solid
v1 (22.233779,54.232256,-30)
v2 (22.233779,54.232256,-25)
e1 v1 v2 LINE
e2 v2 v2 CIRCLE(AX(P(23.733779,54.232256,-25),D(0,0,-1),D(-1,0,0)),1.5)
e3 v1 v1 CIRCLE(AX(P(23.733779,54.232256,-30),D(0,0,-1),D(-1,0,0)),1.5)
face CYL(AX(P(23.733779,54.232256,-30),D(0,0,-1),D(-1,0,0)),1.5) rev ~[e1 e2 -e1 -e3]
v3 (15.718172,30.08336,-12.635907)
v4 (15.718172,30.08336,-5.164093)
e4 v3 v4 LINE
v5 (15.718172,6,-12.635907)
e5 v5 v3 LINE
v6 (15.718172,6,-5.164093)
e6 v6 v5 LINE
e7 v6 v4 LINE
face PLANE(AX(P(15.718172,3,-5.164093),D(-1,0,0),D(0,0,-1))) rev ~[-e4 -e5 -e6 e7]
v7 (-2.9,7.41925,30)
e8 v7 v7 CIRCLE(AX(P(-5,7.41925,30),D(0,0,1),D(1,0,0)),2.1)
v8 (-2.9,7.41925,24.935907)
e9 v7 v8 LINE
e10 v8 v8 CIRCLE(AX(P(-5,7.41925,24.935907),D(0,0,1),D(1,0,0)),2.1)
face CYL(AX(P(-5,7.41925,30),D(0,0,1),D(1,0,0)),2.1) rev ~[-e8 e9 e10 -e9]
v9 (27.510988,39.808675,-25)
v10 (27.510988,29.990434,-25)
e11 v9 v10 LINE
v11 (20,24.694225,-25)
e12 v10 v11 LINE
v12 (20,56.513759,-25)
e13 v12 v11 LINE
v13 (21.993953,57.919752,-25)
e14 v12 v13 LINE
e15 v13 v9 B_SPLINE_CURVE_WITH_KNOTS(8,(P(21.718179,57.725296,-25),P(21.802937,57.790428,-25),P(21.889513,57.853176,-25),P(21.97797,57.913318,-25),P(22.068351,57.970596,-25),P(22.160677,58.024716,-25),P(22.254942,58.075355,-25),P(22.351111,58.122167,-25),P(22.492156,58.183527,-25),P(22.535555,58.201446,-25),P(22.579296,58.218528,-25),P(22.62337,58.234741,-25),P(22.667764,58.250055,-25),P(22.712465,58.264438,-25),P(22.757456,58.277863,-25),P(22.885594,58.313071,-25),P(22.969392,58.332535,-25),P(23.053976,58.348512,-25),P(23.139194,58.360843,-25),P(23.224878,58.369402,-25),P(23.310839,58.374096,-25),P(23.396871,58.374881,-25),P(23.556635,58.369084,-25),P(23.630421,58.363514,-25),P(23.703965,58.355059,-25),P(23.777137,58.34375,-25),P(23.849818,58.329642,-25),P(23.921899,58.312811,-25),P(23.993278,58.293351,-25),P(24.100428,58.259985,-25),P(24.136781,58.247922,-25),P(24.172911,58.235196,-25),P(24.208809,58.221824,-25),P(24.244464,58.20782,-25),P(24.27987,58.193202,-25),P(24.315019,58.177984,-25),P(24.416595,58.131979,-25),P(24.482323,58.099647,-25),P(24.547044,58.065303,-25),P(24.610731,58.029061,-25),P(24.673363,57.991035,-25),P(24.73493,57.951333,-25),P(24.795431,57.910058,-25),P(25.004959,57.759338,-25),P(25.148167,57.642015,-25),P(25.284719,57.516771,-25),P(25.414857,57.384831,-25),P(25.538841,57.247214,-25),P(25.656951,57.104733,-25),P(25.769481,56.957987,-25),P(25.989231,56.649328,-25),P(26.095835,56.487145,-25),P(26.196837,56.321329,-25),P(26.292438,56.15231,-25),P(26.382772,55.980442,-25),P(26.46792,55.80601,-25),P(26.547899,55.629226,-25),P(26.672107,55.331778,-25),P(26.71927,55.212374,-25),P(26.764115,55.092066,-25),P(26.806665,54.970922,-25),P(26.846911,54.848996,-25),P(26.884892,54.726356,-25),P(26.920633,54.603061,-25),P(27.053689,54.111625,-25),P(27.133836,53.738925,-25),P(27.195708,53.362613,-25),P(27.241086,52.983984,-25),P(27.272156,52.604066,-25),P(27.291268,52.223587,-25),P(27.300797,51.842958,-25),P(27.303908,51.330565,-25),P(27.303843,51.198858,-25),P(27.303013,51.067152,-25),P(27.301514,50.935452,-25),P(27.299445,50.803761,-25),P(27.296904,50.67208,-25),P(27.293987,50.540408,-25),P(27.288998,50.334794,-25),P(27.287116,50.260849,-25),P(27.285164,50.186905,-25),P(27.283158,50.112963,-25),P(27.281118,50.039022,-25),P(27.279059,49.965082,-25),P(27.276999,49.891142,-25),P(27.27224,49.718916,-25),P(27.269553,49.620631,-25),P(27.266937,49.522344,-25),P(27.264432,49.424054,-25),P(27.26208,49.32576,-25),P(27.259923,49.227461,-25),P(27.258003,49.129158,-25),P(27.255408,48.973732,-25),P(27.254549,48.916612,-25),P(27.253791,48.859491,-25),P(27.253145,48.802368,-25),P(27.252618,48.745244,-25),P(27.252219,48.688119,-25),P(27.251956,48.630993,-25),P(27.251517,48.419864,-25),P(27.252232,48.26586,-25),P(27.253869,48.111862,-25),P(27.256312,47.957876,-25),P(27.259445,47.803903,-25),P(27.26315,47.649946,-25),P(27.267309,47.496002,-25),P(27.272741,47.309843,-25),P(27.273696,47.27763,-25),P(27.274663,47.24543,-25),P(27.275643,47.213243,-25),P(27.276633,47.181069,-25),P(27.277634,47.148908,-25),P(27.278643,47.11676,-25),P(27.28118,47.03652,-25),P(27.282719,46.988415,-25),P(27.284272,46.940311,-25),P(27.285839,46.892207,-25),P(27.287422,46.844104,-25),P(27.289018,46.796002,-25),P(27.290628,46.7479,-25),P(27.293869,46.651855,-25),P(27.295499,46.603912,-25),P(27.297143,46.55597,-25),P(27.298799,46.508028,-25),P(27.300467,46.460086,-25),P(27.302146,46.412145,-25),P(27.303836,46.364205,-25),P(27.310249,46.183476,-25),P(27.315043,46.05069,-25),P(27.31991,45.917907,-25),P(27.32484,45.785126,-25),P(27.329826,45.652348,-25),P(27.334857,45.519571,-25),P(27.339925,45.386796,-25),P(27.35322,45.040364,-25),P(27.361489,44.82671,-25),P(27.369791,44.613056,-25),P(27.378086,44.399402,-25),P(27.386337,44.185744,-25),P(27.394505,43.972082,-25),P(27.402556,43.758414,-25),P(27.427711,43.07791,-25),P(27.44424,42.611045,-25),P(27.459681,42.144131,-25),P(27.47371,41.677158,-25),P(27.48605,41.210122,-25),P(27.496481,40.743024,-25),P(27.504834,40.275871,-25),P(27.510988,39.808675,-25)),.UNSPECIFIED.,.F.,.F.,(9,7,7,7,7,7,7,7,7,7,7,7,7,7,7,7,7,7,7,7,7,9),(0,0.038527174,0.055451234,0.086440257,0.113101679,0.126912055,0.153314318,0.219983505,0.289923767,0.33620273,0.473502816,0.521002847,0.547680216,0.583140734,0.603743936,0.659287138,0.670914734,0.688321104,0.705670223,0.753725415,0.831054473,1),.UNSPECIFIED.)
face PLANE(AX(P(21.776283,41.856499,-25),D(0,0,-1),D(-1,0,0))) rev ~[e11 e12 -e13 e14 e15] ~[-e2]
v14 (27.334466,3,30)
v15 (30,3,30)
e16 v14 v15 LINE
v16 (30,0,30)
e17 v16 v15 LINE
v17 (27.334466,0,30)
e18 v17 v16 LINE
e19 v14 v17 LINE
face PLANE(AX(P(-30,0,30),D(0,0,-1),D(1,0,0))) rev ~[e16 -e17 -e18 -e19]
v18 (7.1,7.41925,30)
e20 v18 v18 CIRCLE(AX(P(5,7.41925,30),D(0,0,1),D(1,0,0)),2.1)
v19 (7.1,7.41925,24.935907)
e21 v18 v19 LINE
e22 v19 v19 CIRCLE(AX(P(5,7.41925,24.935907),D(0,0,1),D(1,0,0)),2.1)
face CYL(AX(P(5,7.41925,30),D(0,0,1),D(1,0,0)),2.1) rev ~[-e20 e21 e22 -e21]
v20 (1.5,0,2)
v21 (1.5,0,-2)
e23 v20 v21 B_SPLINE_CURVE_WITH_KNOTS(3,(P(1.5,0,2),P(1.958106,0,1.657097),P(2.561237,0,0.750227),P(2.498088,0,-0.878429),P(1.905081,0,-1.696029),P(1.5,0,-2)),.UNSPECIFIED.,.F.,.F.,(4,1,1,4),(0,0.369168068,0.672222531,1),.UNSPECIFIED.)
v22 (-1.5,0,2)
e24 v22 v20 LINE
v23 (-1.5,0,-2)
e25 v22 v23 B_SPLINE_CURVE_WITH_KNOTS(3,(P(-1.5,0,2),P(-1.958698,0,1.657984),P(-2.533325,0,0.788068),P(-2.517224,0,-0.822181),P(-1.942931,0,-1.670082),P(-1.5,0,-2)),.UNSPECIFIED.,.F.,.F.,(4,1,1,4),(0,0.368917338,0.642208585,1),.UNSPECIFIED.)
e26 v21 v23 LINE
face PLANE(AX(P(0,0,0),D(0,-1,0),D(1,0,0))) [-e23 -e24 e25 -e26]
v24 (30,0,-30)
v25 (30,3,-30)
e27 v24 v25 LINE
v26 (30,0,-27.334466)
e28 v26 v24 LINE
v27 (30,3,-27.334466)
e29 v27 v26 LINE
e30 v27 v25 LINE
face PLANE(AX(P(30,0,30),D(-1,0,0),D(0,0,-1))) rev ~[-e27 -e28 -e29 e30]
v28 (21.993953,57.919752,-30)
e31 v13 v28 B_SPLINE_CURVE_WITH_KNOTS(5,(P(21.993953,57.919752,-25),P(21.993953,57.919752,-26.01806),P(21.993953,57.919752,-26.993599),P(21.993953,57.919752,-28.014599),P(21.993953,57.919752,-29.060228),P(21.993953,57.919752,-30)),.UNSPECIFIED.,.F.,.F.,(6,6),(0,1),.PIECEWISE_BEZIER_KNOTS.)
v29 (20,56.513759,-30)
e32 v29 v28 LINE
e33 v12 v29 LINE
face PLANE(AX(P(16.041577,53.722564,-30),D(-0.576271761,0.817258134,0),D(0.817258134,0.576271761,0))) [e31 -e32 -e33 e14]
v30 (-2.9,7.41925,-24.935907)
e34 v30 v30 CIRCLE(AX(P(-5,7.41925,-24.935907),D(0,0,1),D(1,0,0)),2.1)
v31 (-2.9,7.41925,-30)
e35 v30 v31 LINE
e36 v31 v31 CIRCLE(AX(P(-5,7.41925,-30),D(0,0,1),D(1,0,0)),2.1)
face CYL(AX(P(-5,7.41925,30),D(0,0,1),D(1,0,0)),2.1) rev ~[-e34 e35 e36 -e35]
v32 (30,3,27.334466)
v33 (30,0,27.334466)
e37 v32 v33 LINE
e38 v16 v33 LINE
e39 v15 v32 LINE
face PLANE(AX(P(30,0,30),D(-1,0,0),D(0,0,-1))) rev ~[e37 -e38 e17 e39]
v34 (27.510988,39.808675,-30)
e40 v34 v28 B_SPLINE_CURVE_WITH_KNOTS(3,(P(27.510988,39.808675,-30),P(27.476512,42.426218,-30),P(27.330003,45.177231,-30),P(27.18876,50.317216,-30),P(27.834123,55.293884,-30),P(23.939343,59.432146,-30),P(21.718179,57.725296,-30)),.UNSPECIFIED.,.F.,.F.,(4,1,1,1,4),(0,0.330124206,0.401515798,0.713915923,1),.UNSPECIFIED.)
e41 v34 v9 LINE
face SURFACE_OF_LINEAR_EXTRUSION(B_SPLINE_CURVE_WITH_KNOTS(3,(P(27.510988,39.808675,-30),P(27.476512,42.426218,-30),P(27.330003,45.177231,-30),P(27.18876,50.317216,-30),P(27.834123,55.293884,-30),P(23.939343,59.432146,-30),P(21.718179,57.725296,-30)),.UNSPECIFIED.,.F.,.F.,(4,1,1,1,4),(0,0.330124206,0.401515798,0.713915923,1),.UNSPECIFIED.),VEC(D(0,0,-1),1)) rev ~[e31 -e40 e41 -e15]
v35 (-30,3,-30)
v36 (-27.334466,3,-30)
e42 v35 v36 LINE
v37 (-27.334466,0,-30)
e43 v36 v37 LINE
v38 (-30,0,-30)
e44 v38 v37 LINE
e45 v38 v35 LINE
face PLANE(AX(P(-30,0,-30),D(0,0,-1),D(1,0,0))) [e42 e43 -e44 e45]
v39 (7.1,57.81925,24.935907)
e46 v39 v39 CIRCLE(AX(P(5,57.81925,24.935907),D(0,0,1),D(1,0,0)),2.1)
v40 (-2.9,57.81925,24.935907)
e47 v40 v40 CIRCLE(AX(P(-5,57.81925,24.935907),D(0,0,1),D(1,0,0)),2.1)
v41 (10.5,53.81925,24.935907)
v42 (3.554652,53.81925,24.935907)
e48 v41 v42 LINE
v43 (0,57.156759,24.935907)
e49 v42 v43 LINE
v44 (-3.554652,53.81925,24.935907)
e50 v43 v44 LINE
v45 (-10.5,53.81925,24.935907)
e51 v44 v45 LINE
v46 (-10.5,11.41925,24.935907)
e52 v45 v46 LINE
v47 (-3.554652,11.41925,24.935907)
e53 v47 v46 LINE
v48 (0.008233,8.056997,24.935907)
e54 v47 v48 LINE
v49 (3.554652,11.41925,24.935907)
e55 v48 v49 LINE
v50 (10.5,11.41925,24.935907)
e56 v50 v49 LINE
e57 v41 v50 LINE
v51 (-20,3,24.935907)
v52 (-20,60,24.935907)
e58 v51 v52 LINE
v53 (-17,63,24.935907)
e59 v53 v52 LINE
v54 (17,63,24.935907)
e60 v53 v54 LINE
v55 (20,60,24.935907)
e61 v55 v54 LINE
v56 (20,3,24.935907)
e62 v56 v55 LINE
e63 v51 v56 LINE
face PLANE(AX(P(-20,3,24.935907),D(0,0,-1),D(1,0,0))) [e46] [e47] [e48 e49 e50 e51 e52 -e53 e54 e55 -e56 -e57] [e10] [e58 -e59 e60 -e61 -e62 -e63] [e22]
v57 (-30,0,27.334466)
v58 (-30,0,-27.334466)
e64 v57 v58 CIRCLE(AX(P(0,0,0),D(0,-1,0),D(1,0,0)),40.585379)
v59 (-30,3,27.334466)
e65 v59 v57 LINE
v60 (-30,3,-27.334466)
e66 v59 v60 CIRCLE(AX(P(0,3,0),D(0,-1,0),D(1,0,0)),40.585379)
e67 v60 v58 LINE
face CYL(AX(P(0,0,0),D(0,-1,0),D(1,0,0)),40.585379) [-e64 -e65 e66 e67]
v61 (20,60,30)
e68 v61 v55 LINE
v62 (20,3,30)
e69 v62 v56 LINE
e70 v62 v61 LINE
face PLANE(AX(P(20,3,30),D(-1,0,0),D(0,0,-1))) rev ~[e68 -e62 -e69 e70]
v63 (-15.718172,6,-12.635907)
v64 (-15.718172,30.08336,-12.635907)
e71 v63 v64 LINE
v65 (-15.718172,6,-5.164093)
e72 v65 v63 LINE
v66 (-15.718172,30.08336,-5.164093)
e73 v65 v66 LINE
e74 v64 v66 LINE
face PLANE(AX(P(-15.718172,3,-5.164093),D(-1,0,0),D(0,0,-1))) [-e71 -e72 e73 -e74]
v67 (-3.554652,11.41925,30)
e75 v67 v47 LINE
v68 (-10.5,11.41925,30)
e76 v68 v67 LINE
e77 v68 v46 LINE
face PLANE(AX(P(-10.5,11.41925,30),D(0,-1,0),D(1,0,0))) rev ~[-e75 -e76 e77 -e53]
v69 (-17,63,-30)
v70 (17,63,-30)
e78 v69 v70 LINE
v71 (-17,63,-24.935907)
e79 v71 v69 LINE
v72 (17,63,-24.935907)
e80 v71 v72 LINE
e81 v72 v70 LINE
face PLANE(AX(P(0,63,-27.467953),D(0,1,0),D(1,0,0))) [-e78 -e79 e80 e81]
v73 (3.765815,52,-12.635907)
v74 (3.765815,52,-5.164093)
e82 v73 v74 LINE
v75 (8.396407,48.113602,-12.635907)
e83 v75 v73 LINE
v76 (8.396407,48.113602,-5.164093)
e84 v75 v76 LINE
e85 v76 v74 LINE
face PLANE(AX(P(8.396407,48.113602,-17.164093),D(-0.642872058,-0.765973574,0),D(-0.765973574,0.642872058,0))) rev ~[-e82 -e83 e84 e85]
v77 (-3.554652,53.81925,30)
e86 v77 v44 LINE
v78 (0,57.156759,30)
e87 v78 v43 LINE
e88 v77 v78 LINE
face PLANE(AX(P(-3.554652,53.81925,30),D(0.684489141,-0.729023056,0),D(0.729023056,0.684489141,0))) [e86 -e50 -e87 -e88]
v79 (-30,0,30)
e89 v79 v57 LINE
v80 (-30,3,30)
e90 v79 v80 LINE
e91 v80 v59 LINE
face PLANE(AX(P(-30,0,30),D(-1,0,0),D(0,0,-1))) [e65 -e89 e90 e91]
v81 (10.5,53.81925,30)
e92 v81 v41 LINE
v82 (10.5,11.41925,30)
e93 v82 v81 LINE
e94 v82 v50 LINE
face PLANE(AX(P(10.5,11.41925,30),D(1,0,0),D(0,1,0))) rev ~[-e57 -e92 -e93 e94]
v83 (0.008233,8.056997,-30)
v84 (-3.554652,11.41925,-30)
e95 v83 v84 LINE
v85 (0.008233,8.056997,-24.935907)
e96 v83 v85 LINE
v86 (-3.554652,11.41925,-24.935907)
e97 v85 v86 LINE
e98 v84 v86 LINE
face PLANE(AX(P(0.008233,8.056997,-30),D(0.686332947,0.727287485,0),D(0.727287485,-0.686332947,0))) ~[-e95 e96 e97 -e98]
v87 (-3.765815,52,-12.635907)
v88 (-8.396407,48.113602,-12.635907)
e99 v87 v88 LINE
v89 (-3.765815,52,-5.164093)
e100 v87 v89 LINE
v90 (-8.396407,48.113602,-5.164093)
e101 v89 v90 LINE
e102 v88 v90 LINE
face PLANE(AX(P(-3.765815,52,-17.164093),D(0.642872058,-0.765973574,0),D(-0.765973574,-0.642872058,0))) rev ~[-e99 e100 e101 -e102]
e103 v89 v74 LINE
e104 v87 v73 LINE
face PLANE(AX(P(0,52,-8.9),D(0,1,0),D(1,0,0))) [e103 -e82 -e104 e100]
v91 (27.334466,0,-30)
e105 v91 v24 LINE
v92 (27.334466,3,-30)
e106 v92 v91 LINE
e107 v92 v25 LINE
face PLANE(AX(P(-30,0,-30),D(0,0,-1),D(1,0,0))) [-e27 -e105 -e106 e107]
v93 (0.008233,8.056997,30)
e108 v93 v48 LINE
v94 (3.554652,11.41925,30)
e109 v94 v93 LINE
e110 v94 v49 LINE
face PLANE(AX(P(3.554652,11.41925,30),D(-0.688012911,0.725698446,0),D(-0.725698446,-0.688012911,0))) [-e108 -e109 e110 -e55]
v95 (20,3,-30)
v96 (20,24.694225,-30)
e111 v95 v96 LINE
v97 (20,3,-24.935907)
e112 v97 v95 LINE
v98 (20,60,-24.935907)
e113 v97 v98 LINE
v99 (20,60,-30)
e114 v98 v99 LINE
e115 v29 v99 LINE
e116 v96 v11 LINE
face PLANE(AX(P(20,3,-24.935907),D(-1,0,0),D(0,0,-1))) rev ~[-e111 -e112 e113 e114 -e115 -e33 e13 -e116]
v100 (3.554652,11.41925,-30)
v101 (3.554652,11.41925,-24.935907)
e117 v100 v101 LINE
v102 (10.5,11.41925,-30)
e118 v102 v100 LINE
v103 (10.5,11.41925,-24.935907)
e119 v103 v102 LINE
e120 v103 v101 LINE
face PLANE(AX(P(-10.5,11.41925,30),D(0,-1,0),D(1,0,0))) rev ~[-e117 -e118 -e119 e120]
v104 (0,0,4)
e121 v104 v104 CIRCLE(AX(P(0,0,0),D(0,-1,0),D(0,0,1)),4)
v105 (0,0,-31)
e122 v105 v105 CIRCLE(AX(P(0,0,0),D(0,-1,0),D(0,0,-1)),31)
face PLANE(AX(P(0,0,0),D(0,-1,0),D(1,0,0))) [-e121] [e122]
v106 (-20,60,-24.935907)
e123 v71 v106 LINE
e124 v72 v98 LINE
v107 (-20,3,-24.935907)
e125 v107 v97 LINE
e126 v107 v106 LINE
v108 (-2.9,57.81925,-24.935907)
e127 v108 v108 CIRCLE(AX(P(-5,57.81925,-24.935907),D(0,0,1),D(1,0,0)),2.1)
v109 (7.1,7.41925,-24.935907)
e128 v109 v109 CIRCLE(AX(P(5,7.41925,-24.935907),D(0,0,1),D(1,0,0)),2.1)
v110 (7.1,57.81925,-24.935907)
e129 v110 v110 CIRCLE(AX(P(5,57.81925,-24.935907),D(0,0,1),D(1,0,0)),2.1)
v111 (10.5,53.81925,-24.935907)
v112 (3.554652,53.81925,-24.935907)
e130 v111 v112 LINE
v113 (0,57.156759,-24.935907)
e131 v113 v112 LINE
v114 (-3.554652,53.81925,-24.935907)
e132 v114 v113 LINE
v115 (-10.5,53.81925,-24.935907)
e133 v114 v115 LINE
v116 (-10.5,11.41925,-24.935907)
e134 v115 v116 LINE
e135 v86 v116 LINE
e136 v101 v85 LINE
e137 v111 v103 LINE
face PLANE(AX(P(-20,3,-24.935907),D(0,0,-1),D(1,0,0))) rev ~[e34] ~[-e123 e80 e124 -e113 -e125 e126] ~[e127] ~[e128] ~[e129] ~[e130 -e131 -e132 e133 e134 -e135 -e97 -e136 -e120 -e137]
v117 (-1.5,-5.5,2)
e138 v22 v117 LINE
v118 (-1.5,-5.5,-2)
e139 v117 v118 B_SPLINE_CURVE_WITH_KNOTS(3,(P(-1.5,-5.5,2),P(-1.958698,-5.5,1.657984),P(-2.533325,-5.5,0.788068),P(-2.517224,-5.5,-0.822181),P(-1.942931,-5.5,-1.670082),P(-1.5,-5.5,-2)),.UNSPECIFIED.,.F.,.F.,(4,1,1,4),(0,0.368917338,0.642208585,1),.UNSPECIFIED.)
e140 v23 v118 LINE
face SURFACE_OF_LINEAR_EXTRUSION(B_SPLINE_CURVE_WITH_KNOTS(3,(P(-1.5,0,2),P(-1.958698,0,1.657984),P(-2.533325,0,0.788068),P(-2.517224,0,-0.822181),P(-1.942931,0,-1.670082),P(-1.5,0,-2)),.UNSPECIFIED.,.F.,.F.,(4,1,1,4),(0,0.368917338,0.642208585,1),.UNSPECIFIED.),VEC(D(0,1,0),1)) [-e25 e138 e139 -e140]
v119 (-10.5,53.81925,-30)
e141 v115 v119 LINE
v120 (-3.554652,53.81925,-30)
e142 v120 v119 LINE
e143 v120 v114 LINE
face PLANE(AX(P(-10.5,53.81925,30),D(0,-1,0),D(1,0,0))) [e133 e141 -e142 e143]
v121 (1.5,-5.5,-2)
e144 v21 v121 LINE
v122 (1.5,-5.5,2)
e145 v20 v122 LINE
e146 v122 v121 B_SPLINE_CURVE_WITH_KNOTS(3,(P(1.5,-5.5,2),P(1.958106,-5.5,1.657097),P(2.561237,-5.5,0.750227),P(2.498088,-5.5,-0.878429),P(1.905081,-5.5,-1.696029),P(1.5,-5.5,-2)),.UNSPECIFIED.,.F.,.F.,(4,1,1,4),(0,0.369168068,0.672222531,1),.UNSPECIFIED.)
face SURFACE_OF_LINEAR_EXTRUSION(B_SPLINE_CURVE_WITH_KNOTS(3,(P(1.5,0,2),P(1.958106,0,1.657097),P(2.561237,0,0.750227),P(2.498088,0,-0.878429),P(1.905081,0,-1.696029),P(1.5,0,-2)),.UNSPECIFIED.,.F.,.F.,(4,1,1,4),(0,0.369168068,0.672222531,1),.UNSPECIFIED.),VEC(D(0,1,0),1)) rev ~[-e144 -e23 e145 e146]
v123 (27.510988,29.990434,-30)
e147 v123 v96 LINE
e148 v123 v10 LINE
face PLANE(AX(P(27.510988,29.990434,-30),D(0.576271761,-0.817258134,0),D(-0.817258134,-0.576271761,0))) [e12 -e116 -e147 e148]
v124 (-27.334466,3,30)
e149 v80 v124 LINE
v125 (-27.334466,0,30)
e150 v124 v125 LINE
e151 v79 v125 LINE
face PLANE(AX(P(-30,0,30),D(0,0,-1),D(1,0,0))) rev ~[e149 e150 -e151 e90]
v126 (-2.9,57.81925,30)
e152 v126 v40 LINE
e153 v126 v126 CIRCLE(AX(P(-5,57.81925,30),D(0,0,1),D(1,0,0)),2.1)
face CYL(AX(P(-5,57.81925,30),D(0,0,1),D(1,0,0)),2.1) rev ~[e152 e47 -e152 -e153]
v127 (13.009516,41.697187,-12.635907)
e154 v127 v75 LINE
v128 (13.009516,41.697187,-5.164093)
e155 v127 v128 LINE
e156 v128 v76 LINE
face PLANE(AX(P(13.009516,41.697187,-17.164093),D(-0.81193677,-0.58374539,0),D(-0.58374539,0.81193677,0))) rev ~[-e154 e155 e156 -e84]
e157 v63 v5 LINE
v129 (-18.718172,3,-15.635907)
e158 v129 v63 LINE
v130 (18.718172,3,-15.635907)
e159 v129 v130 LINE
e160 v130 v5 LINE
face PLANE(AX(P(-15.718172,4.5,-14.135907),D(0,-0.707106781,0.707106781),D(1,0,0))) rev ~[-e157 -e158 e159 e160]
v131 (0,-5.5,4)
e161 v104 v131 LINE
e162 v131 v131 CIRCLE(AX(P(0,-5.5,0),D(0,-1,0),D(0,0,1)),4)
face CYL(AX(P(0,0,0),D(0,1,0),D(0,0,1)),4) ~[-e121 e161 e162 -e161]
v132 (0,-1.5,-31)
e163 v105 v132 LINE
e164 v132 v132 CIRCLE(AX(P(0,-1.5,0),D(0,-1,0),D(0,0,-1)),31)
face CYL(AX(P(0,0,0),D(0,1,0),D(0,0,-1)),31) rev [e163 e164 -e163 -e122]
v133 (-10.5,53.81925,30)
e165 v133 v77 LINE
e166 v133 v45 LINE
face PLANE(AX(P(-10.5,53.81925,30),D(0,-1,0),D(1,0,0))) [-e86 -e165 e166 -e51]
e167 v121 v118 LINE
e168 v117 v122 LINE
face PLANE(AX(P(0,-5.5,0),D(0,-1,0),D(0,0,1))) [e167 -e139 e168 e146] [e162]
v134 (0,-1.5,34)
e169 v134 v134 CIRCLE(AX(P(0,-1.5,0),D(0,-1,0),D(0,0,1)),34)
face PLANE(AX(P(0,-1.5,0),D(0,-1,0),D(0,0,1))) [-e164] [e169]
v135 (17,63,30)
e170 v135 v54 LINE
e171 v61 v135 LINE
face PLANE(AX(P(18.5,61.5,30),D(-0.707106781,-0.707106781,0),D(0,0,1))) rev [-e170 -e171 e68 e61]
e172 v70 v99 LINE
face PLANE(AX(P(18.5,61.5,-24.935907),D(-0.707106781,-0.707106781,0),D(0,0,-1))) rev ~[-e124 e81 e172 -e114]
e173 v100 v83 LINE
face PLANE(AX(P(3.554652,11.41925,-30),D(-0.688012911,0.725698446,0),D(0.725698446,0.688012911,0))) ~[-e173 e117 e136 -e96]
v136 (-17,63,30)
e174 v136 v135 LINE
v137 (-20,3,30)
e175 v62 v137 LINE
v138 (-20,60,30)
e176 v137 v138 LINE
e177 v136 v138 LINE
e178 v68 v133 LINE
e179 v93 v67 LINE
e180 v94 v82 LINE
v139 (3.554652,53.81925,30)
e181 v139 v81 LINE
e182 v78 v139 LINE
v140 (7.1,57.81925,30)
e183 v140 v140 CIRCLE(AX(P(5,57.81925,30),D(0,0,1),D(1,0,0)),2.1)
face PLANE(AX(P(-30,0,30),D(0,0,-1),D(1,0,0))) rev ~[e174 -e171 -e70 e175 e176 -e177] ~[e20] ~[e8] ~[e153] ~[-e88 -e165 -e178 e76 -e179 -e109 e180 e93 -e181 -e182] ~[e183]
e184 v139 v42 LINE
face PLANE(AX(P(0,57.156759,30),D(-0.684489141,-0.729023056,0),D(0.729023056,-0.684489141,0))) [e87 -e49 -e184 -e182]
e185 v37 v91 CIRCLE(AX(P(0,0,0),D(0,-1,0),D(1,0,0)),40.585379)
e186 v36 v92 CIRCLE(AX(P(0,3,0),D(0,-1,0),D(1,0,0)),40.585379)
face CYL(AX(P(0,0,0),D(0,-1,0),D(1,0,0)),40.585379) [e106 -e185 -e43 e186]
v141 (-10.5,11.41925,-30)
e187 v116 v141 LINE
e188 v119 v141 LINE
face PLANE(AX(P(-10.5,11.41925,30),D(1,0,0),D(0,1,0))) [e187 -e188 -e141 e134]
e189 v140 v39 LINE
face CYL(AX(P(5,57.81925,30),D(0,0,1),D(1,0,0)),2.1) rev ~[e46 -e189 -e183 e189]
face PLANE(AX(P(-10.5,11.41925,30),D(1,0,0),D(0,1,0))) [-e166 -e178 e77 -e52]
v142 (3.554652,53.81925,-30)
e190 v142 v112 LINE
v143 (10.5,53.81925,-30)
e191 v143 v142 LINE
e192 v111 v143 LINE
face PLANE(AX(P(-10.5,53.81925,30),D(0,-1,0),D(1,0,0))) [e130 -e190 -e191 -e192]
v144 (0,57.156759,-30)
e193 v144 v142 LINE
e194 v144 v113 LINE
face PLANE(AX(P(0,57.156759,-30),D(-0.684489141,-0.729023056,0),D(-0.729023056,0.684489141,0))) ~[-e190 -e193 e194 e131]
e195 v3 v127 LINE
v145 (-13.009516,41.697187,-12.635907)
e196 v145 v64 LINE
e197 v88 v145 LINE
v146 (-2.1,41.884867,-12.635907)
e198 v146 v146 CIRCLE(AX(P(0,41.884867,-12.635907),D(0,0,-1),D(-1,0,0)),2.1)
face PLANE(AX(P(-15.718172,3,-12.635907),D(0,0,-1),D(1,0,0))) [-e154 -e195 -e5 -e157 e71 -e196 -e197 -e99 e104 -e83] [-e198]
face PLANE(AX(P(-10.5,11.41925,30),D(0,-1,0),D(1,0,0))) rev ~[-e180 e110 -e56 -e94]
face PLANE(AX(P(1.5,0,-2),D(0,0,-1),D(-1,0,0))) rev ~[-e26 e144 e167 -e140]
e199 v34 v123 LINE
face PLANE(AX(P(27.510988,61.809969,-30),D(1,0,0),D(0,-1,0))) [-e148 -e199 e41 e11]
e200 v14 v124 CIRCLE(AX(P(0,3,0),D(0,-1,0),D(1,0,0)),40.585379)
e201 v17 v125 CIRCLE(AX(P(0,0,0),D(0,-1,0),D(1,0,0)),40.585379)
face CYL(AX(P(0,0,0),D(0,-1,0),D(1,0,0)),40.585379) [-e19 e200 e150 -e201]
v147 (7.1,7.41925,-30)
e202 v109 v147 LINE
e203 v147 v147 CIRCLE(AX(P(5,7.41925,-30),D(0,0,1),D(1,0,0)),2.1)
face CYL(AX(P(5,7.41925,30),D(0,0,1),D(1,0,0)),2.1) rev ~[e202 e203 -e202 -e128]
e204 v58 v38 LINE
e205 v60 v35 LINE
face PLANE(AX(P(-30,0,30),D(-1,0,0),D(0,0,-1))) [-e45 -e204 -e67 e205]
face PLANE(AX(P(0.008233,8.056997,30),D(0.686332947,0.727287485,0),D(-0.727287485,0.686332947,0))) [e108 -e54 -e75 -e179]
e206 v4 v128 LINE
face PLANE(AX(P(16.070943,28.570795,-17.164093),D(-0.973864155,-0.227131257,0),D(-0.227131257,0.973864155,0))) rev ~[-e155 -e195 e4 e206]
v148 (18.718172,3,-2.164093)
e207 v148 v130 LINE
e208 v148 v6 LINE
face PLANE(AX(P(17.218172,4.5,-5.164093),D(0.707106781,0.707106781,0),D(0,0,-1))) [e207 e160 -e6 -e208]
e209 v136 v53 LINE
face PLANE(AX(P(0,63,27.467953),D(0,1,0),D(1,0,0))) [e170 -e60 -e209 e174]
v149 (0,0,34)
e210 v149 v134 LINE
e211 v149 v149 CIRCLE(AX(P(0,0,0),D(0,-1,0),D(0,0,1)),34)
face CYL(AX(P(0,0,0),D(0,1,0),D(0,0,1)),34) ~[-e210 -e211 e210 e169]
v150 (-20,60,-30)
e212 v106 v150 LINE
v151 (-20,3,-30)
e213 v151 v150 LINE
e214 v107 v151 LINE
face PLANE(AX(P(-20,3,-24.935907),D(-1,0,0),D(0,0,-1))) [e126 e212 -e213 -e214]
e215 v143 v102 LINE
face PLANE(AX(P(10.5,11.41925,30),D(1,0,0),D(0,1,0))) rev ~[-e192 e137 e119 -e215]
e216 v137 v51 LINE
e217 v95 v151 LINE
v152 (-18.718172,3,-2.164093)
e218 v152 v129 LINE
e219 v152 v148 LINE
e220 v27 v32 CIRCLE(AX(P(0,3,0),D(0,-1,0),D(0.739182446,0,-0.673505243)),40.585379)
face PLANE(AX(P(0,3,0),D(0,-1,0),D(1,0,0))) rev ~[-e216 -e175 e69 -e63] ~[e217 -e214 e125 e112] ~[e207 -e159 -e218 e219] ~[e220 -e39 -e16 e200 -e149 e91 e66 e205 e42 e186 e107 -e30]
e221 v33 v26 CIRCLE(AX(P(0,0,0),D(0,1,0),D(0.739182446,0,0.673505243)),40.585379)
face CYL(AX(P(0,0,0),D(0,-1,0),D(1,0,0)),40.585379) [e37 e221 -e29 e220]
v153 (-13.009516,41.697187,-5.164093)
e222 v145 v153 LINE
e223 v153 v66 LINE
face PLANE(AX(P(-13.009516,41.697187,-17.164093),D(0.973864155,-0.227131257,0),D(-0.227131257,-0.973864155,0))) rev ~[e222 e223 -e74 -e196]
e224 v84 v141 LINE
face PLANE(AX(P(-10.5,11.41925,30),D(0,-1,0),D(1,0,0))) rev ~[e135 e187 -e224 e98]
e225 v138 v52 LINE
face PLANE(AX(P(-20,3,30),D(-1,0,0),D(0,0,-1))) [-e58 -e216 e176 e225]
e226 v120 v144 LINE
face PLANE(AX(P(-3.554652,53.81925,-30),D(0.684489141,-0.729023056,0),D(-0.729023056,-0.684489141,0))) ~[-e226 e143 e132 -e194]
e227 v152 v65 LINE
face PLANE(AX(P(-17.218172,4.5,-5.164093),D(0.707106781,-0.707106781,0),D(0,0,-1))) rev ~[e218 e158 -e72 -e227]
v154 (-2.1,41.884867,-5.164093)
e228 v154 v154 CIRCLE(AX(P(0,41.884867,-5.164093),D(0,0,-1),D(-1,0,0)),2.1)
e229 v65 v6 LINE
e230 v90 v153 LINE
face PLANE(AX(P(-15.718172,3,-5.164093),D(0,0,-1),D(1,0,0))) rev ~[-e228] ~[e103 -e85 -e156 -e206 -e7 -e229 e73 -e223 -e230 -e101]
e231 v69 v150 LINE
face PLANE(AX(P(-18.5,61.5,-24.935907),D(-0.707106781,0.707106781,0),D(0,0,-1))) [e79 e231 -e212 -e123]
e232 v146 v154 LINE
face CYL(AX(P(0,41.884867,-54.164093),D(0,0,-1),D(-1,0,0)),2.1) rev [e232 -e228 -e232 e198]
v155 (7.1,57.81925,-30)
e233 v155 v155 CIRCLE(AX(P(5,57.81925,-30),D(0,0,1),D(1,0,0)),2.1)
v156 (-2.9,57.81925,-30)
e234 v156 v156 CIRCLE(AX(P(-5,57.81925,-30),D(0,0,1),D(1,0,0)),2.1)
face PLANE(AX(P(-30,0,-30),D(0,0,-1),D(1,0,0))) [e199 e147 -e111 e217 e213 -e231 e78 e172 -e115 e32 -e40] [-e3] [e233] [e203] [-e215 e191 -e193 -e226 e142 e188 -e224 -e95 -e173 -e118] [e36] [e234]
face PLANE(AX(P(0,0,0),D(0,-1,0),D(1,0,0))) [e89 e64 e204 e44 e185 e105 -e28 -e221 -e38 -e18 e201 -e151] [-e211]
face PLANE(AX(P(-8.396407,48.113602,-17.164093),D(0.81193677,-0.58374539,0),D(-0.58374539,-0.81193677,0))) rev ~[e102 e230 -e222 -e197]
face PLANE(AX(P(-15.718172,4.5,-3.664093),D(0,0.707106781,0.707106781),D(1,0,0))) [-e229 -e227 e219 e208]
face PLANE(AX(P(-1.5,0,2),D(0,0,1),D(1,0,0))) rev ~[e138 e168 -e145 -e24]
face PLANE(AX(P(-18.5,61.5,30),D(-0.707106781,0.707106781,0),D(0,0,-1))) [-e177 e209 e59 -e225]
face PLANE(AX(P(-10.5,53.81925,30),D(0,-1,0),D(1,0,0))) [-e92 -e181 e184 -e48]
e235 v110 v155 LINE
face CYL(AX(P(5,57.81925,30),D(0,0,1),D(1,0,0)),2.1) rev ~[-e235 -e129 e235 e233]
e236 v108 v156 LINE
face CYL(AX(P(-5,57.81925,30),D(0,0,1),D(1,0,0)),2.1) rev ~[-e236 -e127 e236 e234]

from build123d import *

# Parameters (mm, degrees)
ESQUISSE1_W                  = 60
ESQUISSE1_H                  = 60
BOSS_EXTRU_1_DEPTH           = 3
ESQUISSE2_W                  = 40
ESQUISSE2_H                  = 5.064093089
BOSS_EXTRU_2_DEPTH           = 60
ESQUISSE3_R                  = 2.1
ESQUISSE3_W                  = 21
ESQUISSE3_H                  = 42.4
ENL_V_MAT_EXTRU_1_DEPTH      = 61
ESQUISSE4_W                  = 31.43634342
ESQUISSE4_H                  = 7.471813822
BOSS_EXTRU_3_DEPTH           = 49
ENL_V_MAT_EXTRU_2_DEPTH      = 49
ENL_V_MAT_EXTRU_2_DEPTH_BACK = 49
ESQUISSE5_R                  = 2.1
ENL_V_MAT_EXTRU_3_DEPTH      = 5
ENL_V_MAT_EXTRU_3_DEPTH_BACK = 12
ENL_V_MAT_EXTRU_7_DEPTH      = 5.686588472
BOSS_EXTRU_4_DEPTH           = 5
ESQUISSE13_R                 = 1.5
ENL_V_MAT_EXTRU_8_DEPTH      = 5
ENL_V_MAT_EXTRU_9_DEPTH      = 10
CHANFREIN1_SIZE              = 3
CHANFREIN2_SIZE              = 3
ESQUISSE15_R                 = 40.585379392
BOSS_EXTRU_5_DEPTH           = 3
ESQUISSE16_R                 = 4
BOSS_EXTRU_6_DEPTH           = 5.5
ESQUISSE17_R                 = 34
ESQUISSE17_R_2               = 31
BOSS_EXTRU_7_DEPTH           = 1.5


with BuildPart() as part:
    # Esquisse1 → Boss.-Extru.1 (new body)
    with BuildSketch(Plane(origin=(0, 0, 0), x_dir=(1, 0, 0), z_dir=(0, 1, 0))):
        Rectangle(ESQUISSE1_W, ESQUISSE1_H)
    extrude(amount=BOSS_EXTRU_1_DEPTH)

    # Esquisse2 → Boss.-Extru.2 (add)
    with BuildSketch(Plane(origin=(0, 3, 0), x_dir=(1, 0, 0), z_dir=(0, 1, 0))):
        with Locations((0, -27.467953456)):
            Rectangle(ESQUISSE2_W, ESQUISSE2_H)
        with Locations((0, 27.467953456)):
            Rectangle(ESQUISSE2_W, ESQUISSE2_H)
    extrude(amount=BOSS_EXTRU_2_DEPTH)

    # Esquisse3 → Enlèv. mat.-Extru.1 (cut)
    with BuildSketch(Plane.XY.offset(30)):
        with Locations((-5, 57.819250322)):
            Circle(ESQUISSE3_R)
        with Locations((5, 57.819250322)):
            Circle(ESQUISSE3_R)
        with Locations((-5, 7.419250322)):
            Circle(ESQUISSE3_R)
        with Locations((5, 7.419250322)):
            Circle(ESQUISSE3_R)
        with Locations((0, 32.619250322)):
            Rectangle(ESQUISSE3_W, ESQUISSE3_H)
    extrude(amount=-ENL_V_MAT_EXTRU_1_DEPTH, mode=Mode.SUBTRACT)

    # Esquisse4 → Boss.-Extru.3 (add)
    with BuildSketch(Plane(origin=(0, 3, 0), x_dir=(1, 0, 0), z_dir=(0, 1, 0))):
        with Locations((0, 8.9)):
            Rectangle(ESQUISSE4_W, ESQUISSE4_H)
    extrude(amount=BOSS_EXTRU_3_DEPTH)

    # Esquisse5 → Enlèv. mat.-Extru.2 (cut, two sides: drawn at the far end of the back side and taken through both)
    with BuildSketch(Plane.XY.offset(-5.164093089).offset(-ENL_V_MAT_EXTRU_2_DEPTH_BACK)):
        with Locations(Location((0, 41.884866589, 0), (0, 0, 180))):
            Circle(ESQUISSE5_R)
    extrude(amount=ENL_V_MAT_EXTRU_2_DEPTH + ENL_V_MAT_EXTRU_2_DEPTH_BACK, mode=Mode.SUBTRACT)

    # Esquisse6 → Enlèv. mat.-Extru.3 (cut, two sides: drawn at the far end of the back side and taken through both)
    with BuildSketch(Plane.XY.offset(-5.164093089).offset(-ENL_V_MAT_EXTRU_3_DEPTH_BACK)):
        Polygon((3.765814794, 52), (-3.765814794, 52), (-8.396406616, 48.113602092), (-13.009515703, 41.697186725), (-16.070942643, 28.570794505), (-19.383993714, 28.570794505), (-19.383993714, 55.569676943), (19.383993714, 55.569676943), (19.383993714, 28.570794505), (16.070942643, 28.570794505), (13.009515703, 41.697186725), (8.396406616, 48.113602092), align=None)
    extrude(amount=ENL_V_MAT_EXTRU_3_DEPTH + ENL_V_MAT_EXTRU_3_DEPTH_BACK, mode=Mode.SUBTRACT)

    # Esquisse11 → Enlèv. mat.-Extru.7 (cut)
    with BuildSketch(Plane.XY.offset(30)):
        Polygon((-3.554651837, 53.819250322), (0, 57.156758738), (3.554651837, 53.819250322), align=None)
        Polygon((3.554651837, 11.419250322), (0.008232601, 8.05699671), (-3.554651837, 11.419250322), align=None)
    enl_v_mat_extru_7 = extrude(amount=-ENL_V_MAT_EXTRU_7_DEPTH, mode=Mode.SUBTRACT)

    # Symétrie1: Enlèv. mat.-Extru.7 across plane
    add(enl_v_mat_extru_7.mirror(Plane.XY), mode=Mode.SUBTRACT)

    # Esquisse12 → Boss.-Extru.4 (add)
    with BuildSketch(Plane(origin=(0, 0, -30), x_dir=(-1, 0, 0), z_dir=(0, 0, -1))):
        Polygon((-16.041577075, 53.722563772), (-27.510987985, 61.809968901), (-27.510987985, 29.990434482), (-16.041577075, 21.903029354), align=None)
    extrude(amount=-BOSS_EXTRU_4_DEPTH)

    # Esquisse13 → Enlèv. mat.-Extru.8 (cut)
    with BuildSketch(Plane(origin=(0, 0, -30), x_dir=(-1, 0, 0), z_dir=(0, 0, -1))):
        with Locations((-23.733778696, 54.232255727)):
            Circle(ESQUISSE13_R)
    extrude(amount=-ENL_V_MAT_EXTRU_8_DEPTH, mode=Mode.SUBTRACT)

    # Esquisse14 → Enlèv. mat.-Extru.9 (cut)
    with BuildSketch(Plane(origin=(0, 0, -30), x_dir=(-1, 0, 0), z_dir=(0, 0, -1))):
        with BuildLine():
            Line((-21.71817898, 57.725295885), (-22.313097289, 61.571545457))
            Line((-22.313097289, 61.571545457), (-29.123823422, 63.566297114))
            Line((-29.123823422, 63.566297114), (-31.434035617, 54.282245365))
            Line((-31.434035617, 54.282245365), (-31.802093045, 39.80867485))
            Line((-31.802093045, 39.80867485), (-27.510987985, 39.80867485))
            add(Edge.make_bspline(
                [(-27.510987985, 39.80867485), (-27.476511879, 42.426218442), (-27.330002572, 45.177230576), (-27.18875986, 50.317216066), (-27.834123365, 55.293883989), (-23.939343069, 59.432145797), (-21.71817898, 57.725295885)],
                knots=[0, 0, 0, 0, 0.330124206, 0.401515798, 0.713915923, 1, 1, 1, 1], degree=3))
        make_face()
    extrude(amount=-ENL_V_MAT_EXTRU_9_DEPTH, mode=Mode.SUBTRACT)

    # Chanfrein1
    chanfrein1_edges = [part.edges().sort_by_distance(p)[0] for p in [
        (-20, 63, 27.467953456),
        (20, 63, 27.467953456),
        (20, 63, -27.467953456),
        (-20, 63, -27.467953456),
    ]]
    chamfer(chanfrein1_edges, length=CHANFREIN1_SIZE)

    # Chanfrein2
    chanfrein2_edges = [part.edges().sort_by_distance(p)[0] for p in [
        (15.71817171, 3, -8.9),
        (0, 3, -12.635906911),
        (-15.71817171, 3, -8.9),
        (0, 3, -5.164093089),
    ]]
    chamfer(chanfrein2_edges, length=CHANFREIN2_SIZE)

    # Esquisse15 → Boss.-Extru.5 (add)
    with BuildSketch(Plane.XZ):
        Circle(ESQUISSE15_R)
    extrude(amount=-BOSS_EXTRU_5_DEPTH)

    # Esquisse16 → Boss.-Extru.6 (add)
    with BuildSketch(Plane.XZ):
        with Locations(Location((0, 0, 0), (0, 0, 90))):
            Circle(ESQUISSE16_R)
        with BuildLine():
            Line((1.5, -2), (-1.5, -2))
            add(Edge.make_bspline(
                [(-1.5, 2), (-1.958697555, 1.657983746), (-2.533324792, 0.788068376), (-2.517224478, -0.822180507), (-1.942930835, -1.670082257), (-1.5, -2)],
                knots=[0, 0, 0, 0, 0.368917338, 0.642208585, 1, 1, 1, 1], degree=3))
            Line((-1.5, 2), (1.5, 2))
            add(Edge.make_bspline(
                [(1.5, 2), (1.95810566, 1.657096874), (2.561237256, 0.750226685), (2.498088101, -0.878428585), (1.905080516, -1.696028501), (1.5, -2)],
                knots=[0, 0, 0, 0, 0.369168068, 0.672222531, 1, 1, 1, 1], degree=3))
        make_face(mode=Mode.SUBTRACT)
    extrude(amount=BOSS_EXTRU_6_DEPTH)

    # Esquisse17 → Boss.-Extru.7 (add)
    with BuildSketch(Plane.XZ):
        with Locations(Location((0, 0, 0), (0, 0, 90))):
            Circle(ESQUISSE17_R)
        with Locations(Location((0, 0, 0), (0, 0, 270))):
            Circle(ESQUISSE17_R_2, mode=Mode.SUBTRACT)
    extrude(amount=BOSS_EXTRU_7_DEPTH)


solid = part.part
